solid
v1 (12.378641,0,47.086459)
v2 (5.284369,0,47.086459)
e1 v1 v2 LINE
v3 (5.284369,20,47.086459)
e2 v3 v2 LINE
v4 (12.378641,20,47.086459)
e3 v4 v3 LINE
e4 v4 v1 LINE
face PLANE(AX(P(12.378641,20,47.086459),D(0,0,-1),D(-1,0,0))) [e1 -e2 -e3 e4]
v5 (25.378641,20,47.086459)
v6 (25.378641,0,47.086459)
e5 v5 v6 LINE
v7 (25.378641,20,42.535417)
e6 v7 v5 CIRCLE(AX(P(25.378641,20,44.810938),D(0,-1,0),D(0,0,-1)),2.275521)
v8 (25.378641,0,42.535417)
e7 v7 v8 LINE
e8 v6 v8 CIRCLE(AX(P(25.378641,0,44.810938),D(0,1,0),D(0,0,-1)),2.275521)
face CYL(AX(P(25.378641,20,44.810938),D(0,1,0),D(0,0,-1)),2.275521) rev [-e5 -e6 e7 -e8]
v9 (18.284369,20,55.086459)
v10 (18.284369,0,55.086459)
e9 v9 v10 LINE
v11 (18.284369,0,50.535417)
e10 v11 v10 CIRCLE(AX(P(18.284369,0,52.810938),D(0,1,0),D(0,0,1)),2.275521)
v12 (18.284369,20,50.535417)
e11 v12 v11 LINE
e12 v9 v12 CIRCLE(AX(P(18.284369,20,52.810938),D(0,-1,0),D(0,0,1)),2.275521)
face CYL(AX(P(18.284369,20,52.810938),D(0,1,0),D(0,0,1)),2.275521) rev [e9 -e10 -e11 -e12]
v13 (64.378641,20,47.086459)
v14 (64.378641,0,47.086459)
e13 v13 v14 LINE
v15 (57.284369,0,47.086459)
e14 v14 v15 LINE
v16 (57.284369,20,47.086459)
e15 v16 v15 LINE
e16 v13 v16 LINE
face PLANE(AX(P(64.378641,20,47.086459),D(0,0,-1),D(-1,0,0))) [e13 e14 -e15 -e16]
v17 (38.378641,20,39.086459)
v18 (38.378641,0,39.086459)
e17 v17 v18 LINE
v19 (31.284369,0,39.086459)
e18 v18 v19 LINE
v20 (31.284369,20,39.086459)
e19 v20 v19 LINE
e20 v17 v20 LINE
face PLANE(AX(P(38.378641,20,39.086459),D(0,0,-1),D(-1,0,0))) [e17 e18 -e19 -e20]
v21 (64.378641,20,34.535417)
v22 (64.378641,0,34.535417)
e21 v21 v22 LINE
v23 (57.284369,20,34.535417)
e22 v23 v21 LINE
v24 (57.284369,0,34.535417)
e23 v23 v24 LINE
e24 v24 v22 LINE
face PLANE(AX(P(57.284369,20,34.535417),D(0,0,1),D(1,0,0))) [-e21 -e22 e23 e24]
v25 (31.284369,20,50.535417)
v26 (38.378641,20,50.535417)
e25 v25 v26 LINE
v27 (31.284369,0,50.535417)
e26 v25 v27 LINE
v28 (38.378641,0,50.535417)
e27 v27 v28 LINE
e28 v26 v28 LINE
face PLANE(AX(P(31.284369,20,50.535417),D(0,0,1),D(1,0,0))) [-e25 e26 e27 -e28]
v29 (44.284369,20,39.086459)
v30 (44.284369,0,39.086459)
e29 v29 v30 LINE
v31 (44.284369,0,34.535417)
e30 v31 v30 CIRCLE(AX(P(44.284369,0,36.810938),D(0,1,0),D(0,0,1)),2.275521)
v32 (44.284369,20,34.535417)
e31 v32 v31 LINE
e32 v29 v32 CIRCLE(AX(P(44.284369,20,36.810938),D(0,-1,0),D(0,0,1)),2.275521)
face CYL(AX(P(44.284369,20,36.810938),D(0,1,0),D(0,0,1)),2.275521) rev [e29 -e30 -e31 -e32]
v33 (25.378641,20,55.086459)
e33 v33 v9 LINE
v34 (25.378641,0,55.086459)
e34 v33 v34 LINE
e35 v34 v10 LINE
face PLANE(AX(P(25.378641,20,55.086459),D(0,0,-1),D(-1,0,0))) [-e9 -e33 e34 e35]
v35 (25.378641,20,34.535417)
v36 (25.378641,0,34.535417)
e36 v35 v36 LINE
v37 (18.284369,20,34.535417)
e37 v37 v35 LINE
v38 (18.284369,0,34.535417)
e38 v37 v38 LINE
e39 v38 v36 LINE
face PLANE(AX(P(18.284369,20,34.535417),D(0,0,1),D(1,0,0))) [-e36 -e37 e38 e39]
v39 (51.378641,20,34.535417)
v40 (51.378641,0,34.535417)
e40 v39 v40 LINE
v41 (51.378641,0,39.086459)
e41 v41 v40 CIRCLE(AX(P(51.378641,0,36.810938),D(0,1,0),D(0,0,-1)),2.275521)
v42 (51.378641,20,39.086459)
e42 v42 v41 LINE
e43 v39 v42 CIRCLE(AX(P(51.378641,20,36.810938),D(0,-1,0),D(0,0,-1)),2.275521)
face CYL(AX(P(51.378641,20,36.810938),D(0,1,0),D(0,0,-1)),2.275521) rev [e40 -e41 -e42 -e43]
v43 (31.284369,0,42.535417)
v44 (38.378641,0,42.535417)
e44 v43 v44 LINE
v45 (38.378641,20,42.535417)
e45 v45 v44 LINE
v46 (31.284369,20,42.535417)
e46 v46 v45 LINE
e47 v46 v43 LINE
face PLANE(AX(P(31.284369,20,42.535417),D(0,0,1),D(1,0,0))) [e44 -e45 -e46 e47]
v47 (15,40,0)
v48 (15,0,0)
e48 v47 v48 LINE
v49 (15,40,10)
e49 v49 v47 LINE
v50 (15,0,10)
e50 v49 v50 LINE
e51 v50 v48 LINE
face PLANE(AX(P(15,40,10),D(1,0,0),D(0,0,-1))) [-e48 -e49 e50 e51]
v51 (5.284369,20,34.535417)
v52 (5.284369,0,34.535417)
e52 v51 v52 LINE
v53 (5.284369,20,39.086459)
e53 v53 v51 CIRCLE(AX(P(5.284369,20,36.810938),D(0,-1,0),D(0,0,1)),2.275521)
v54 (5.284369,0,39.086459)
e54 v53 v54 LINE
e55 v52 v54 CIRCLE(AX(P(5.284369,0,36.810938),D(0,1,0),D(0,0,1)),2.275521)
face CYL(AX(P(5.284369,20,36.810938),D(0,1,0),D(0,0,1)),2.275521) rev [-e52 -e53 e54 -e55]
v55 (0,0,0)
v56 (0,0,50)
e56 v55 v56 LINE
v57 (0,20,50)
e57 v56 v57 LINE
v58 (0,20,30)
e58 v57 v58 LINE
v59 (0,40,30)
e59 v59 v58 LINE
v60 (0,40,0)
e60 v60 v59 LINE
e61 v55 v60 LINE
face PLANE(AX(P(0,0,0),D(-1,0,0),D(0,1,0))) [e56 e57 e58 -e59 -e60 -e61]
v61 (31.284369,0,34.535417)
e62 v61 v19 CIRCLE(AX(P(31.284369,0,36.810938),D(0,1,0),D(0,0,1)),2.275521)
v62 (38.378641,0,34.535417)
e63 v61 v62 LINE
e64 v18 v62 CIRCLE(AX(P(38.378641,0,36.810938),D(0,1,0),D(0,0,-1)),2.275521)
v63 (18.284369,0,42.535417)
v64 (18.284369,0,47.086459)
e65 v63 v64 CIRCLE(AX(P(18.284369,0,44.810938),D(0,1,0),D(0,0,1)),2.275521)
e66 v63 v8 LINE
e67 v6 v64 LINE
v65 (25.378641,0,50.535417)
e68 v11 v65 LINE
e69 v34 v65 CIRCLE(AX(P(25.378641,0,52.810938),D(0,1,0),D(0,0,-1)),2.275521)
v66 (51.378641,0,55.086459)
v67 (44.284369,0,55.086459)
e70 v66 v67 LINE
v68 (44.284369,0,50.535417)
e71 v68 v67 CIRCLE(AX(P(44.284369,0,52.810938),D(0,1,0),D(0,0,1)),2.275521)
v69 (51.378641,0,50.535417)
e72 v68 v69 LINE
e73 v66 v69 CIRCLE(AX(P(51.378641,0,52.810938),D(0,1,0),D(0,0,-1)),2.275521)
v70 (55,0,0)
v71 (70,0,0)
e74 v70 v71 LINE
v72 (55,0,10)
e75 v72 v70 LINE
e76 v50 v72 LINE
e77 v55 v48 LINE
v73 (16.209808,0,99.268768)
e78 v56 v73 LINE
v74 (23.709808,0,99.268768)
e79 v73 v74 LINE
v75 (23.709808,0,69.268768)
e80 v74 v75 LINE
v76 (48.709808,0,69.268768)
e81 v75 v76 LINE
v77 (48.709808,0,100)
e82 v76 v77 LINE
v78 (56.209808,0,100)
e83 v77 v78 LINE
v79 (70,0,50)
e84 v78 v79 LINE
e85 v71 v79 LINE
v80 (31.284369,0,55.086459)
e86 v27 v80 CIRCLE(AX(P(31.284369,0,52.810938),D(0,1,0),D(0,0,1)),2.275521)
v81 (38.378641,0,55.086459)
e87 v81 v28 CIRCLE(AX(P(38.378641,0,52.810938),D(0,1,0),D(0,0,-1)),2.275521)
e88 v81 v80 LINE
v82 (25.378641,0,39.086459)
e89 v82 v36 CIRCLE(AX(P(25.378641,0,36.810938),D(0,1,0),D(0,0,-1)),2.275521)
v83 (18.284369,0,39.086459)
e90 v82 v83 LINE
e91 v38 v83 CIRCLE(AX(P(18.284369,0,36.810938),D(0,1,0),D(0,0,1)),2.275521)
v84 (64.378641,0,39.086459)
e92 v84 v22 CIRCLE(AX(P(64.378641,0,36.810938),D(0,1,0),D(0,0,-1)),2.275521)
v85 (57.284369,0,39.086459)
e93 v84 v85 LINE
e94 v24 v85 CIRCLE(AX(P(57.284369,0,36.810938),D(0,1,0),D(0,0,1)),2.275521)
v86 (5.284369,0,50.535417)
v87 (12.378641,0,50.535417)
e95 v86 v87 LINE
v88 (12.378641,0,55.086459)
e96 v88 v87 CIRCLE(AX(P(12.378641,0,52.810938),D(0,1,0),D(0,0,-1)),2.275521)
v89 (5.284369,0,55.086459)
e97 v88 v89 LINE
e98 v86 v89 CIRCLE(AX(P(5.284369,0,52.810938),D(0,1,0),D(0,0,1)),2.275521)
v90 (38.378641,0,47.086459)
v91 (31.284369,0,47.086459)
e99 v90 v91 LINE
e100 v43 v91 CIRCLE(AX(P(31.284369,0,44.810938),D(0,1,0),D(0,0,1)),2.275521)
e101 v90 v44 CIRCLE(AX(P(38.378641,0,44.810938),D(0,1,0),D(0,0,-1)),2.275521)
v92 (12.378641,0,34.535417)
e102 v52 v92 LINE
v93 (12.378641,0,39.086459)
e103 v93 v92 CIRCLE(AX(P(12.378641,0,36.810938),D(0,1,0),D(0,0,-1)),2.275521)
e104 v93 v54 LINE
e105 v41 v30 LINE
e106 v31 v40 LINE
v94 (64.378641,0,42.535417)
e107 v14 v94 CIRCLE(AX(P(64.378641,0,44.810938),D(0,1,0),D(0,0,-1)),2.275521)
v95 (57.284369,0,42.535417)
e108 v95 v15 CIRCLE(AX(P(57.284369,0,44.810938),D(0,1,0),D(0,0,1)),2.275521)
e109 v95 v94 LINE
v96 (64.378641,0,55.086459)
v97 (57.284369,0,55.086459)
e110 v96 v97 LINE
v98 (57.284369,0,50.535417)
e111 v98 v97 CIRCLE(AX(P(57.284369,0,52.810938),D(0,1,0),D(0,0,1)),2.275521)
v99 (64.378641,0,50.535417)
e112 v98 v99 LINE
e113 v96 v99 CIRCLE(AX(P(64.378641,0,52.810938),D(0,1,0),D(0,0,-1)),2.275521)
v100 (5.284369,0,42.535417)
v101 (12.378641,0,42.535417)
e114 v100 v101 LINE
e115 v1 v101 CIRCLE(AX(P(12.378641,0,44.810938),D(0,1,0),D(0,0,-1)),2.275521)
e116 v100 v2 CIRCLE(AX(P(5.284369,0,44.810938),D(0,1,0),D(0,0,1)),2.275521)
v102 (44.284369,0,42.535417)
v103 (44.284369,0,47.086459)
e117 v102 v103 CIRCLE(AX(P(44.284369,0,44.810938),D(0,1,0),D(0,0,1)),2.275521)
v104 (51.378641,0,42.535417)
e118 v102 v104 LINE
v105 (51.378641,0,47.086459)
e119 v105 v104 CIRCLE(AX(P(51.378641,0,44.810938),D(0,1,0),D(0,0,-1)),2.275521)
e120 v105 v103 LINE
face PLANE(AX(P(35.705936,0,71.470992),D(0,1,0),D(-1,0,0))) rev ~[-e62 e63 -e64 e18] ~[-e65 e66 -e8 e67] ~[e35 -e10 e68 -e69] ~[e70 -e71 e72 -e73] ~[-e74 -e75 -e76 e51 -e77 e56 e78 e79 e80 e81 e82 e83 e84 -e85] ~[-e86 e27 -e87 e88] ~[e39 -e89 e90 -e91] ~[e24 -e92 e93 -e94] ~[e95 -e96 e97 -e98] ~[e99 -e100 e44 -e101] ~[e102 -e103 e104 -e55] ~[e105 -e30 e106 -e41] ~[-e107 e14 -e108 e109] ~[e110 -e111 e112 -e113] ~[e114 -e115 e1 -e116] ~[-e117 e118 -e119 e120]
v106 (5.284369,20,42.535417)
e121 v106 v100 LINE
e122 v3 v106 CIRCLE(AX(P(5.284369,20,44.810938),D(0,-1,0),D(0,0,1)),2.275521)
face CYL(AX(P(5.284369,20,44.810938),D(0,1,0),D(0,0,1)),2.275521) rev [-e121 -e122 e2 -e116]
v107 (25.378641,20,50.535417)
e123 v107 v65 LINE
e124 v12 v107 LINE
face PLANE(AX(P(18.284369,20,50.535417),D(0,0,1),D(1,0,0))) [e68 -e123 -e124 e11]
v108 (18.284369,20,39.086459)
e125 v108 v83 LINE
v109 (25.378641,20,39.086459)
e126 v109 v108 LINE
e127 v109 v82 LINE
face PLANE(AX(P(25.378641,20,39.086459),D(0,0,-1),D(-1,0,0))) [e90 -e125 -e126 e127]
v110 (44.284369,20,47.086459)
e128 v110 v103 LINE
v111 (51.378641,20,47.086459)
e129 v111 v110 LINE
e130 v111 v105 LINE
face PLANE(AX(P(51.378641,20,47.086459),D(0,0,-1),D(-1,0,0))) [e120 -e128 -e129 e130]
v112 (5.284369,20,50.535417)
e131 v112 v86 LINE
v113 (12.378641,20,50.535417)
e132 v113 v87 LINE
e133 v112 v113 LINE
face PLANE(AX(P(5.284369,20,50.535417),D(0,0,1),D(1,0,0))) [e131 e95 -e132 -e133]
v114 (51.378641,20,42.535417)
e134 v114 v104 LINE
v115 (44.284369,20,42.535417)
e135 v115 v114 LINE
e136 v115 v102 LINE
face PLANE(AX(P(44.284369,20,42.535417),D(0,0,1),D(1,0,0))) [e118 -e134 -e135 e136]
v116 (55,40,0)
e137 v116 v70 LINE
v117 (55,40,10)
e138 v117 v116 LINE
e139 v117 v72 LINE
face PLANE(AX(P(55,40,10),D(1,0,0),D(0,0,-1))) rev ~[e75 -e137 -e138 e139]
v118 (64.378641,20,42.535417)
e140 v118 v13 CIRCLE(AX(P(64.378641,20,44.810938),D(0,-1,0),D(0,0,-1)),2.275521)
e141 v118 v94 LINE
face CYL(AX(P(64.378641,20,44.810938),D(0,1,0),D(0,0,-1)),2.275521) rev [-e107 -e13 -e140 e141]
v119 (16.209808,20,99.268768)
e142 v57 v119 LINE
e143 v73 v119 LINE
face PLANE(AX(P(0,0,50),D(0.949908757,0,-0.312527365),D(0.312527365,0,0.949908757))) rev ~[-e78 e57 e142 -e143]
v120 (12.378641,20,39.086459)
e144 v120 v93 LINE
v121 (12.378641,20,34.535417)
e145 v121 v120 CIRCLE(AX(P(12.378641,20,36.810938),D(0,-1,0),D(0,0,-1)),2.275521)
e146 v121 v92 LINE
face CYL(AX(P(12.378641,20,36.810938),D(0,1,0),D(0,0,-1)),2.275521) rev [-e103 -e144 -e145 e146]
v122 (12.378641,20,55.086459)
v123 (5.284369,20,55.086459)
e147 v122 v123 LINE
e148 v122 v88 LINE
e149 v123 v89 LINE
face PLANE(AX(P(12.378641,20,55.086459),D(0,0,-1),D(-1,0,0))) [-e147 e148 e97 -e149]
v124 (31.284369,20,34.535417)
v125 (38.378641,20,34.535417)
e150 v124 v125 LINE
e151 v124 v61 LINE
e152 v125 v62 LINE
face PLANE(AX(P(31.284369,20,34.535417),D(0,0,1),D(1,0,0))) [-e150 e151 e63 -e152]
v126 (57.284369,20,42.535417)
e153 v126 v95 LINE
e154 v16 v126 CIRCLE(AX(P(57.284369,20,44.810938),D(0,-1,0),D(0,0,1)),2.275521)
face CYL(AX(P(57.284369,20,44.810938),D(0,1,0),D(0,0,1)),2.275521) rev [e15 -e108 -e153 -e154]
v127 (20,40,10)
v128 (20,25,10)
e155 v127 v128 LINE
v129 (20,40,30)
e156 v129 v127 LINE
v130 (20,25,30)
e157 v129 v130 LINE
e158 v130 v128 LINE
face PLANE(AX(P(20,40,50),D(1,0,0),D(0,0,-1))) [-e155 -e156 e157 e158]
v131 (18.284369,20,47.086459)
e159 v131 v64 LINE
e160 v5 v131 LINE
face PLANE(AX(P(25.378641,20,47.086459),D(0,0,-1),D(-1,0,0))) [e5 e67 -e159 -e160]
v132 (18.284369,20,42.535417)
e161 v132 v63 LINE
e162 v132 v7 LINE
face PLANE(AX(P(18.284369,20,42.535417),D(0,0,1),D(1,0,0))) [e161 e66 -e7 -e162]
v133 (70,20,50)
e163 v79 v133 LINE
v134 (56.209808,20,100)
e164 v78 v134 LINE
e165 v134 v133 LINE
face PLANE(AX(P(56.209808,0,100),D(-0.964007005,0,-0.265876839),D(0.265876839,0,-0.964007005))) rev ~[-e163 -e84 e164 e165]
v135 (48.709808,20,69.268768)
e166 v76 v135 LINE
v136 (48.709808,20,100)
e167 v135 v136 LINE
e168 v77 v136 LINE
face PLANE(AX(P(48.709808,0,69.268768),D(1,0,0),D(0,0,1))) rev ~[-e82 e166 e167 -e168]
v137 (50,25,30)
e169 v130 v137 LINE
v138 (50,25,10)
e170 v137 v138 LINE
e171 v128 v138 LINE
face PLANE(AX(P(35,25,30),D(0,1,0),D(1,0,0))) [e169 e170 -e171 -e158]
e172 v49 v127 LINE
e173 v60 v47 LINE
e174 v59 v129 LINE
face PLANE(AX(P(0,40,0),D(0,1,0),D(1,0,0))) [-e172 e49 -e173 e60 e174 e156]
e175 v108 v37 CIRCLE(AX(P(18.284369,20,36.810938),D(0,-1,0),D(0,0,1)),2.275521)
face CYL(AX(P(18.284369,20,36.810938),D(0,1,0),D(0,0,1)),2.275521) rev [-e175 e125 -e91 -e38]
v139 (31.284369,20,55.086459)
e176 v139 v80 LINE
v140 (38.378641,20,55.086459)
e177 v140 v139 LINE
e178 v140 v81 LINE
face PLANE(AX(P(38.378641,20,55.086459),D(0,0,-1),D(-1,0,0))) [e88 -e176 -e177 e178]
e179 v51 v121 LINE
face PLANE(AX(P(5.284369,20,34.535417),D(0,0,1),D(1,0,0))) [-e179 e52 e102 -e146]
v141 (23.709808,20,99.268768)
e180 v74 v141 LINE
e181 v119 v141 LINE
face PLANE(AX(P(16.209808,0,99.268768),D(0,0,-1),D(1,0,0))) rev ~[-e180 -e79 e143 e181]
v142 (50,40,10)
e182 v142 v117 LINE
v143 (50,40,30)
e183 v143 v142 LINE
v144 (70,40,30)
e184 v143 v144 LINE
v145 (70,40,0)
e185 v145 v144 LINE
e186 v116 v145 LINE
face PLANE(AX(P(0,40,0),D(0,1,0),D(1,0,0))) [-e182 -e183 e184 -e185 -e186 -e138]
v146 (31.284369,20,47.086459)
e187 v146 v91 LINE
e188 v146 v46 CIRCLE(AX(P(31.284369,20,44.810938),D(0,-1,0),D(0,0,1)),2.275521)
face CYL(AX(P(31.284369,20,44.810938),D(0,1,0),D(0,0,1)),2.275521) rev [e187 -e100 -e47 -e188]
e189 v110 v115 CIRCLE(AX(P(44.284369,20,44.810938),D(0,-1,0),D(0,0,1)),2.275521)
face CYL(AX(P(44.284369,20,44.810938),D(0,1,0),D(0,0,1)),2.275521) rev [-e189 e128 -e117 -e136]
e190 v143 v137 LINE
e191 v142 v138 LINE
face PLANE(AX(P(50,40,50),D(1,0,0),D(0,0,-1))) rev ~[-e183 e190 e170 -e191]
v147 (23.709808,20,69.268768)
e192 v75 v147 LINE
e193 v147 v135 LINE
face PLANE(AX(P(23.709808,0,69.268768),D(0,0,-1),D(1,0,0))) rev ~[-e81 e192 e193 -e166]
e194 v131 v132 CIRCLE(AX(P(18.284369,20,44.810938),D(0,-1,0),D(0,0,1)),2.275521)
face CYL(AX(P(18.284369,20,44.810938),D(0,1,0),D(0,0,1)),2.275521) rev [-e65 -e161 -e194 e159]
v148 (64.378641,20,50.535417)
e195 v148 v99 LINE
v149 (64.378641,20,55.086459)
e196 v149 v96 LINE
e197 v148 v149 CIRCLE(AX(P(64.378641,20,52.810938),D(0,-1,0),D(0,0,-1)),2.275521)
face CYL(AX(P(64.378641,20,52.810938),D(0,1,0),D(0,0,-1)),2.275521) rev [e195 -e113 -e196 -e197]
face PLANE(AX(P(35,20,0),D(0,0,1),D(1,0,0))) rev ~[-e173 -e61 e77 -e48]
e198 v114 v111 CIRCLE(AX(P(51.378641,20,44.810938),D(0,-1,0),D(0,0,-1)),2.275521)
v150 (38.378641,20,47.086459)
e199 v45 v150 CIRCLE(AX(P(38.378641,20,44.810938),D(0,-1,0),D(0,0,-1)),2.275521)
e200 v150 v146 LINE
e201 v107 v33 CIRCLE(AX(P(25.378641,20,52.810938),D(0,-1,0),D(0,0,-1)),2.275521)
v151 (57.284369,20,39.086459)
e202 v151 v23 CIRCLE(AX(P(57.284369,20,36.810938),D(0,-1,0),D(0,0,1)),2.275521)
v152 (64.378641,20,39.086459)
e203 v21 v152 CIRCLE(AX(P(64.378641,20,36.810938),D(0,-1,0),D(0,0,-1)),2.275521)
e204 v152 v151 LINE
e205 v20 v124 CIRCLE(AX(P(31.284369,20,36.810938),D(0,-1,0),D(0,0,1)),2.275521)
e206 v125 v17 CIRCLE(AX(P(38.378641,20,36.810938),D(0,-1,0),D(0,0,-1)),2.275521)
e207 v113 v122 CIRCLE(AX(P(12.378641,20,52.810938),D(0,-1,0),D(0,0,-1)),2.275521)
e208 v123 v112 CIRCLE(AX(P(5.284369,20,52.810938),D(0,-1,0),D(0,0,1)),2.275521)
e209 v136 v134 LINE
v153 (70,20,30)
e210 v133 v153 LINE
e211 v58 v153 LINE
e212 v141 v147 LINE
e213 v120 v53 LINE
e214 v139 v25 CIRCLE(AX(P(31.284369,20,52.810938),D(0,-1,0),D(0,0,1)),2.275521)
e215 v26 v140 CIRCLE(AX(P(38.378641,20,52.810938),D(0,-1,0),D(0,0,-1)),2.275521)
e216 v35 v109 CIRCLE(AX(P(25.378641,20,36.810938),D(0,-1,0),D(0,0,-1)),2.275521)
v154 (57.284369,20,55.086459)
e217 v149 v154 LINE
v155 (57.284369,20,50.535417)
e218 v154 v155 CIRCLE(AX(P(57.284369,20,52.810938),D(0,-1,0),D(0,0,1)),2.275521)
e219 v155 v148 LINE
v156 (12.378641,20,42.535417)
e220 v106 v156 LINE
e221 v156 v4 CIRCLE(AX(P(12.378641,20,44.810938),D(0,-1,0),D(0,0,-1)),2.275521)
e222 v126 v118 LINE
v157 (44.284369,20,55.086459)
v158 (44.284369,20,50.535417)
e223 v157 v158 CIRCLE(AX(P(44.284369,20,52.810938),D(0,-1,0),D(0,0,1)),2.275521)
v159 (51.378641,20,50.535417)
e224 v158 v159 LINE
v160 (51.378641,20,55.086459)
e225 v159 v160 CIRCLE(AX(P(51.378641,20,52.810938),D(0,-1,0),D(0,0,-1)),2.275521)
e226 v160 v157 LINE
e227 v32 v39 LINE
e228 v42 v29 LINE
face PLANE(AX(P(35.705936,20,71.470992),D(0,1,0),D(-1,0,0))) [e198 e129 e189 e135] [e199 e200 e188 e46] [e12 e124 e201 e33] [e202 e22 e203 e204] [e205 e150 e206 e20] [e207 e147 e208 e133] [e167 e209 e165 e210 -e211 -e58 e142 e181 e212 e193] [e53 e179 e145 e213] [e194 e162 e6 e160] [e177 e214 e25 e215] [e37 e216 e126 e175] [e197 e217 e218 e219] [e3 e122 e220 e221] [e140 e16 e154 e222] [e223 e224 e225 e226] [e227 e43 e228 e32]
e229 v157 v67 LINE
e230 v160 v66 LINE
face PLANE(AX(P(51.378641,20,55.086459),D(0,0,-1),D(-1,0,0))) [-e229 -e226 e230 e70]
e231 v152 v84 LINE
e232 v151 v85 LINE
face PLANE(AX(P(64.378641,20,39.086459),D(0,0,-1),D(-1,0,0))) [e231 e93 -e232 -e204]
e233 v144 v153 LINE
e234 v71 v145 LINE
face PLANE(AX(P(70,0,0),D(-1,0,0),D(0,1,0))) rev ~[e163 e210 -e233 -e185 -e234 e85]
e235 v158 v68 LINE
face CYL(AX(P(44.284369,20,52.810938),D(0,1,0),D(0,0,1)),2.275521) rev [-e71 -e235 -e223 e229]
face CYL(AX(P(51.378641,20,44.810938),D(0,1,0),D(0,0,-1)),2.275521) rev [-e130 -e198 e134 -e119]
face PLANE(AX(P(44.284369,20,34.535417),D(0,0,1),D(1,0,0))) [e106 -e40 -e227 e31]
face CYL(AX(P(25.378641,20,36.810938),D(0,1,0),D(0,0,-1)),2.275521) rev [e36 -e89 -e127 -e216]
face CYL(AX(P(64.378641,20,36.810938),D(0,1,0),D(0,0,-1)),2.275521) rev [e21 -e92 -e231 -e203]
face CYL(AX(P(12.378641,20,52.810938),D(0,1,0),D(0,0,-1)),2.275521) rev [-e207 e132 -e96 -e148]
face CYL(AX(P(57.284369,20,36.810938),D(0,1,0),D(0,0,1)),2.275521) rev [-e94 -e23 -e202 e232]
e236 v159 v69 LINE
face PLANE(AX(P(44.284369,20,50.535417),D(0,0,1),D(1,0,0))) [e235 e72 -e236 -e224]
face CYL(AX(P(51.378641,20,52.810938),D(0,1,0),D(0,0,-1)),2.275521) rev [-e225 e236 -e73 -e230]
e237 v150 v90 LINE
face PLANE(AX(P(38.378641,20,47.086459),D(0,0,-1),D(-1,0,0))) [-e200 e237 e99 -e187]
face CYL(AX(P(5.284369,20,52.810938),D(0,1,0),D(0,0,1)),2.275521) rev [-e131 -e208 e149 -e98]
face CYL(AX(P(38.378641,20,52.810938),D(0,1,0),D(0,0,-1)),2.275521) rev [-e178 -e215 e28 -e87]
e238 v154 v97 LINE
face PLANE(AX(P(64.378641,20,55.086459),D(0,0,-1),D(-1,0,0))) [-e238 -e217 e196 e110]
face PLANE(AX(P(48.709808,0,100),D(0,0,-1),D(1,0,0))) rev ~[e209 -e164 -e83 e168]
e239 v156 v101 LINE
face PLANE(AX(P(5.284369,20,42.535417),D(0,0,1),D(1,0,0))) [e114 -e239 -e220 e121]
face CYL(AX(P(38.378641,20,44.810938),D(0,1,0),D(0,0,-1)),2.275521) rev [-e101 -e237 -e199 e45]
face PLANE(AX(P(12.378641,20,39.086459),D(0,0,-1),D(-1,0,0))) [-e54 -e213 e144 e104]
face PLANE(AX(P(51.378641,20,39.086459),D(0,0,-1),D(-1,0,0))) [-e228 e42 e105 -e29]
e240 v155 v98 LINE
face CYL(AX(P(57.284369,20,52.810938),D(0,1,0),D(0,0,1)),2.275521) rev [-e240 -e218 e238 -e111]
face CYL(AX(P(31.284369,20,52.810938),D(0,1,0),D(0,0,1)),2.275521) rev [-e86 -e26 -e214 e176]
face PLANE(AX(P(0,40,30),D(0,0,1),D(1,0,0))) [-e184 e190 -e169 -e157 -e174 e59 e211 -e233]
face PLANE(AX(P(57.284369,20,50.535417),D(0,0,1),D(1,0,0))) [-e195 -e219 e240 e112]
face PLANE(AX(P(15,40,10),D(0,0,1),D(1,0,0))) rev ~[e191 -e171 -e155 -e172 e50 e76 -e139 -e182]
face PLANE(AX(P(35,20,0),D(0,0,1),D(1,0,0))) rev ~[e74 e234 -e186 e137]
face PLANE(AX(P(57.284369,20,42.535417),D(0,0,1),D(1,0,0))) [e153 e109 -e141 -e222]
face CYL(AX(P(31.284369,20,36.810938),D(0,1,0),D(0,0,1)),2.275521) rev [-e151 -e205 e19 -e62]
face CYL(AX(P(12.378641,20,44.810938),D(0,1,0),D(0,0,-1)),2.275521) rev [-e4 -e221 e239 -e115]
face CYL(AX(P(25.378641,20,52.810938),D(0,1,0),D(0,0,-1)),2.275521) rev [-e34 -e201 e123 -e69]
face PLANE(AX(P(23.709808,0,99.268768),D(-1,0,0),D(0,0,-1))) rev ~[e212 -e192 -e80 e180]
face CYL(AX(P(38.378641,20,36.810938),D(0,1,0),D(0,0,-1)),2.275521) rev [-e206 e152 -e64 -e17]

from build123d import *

# Parameters (mm, degrees)
SKETCH2_W           = 70
SKETCH2_H           = 40
BOSS_EXTRUDE1_DEPTH = 50
SKETCH3_W           = 40
SKETCH3_H           = 10
CUT_EXTRUDE1_DEPTH  = 40
SKETCH4_W           = 30
SKETCH4_H           = 40
CUT_EXTRUDE2_DEPTH  = 15
SKETCH5_W           = 70
SKETCH5_H           = 20
CUT_EXTRUDE3_DEPTH  = 20
BOSS_EXTRUDE2_DEPTH = 20
CUT_EXTRUDE4_DEPTH  = 124.693168769


with BuildPart() as part:
    # Sketch2 → Boss-Extrude1 (new body)
    with BuildSketch(Plane.XY):
        with Locations((35, 20)):
            Rectangle(SKETCH2_W, SKETCH2_H)
    extrude(amount=BOSS_EXTRUDE1_DEPTH)

    # Sketch3 → Cut-Extrude1 (cut)
    with BuildSketch(Plane(origin=(0, 40, 0), x_dir=(1, 0, 0), z_dir=(0, 1, 0))):
        with Locations((35, -5)):
            Rectangle(SKETCH3_W, SKETCH3_H)
    extrude(amount=-CUT_EXTRUDE1_DEPTH, mode=Mode.SUBTRACT)

    # Sketch4 → Cut-Extrude2 (cut)
    with BuildSketch(Plane(origin=(0, 40, 0), x_dir=(1, 0, 0), z_dir=(0, 1, 0))):
        with Locations((35, -30)):
            Rectangle(SKETCH4_W, SKETCH4_H)
    extrude(amount=-CUT_EXTRUDE2_DEPTH, mode=Mode.SUBTRACT)

    # Sketch5 → Cut-Extrude3 (cut)
    with BuildSketch(Plane(origin=(0, 40, 0), x_dir=(1, 0, 0), z_dir=(0, 1, 0))):
        with Locations((35, -40)):
            Rectangle(SKETCH5_W, SKETCH5_H)
    extrude(amount=-CUT_EXTRUDE3_DEPTH, mode=Mode.SUBTRACT)

    # Sketch6 → Boss-Extrude2 (add)
    with BuildSketch(Plane.XZ):
        Polygon((0, 50), (16.209807748, 99.268768354), (23.709807748, 99.268768354), (23.709807748, 69.268768354), (48.709807748, 69.268768354), (48.709807748, 100), (56.209807748, 100), (70, 50), align=None)
    extrude(amount=-BOSS_EXTRUDE2_DEPTH)

    # Sketch7 → Cut-Extrude4 (cut, through all)
    with BuildSketch(Plane(origin=(0, 20, 0), x_dir=(1, 0, 0), z_dir=(0, 1, 0))):
        with BuildLine():
            Line((5.284369051, -34.535416774), (12.378641305, -34.535416774))
            ThreePointArc((12.378641305, -34.535416774), (14.654162594, -36.810938063), (12.378641305, -39.086459352))
            Line((12.378641305, -39.086459352), (5.284369051, -39.086459352))
            ThreePointArc((5.284369051, -39.086459352), (3.008847762, -36.810938063), (5.284369051, -34.535416774))
        make_face()
        with BuildLine():
            Line((18.284369051, -34.535416774), (25.378641305, -34.535416774))
            ThreePointArc((25.378641305, -34.535416774), (27.654162594, -36.810938063), (25.378641305, -39.086459352))
            Line((25.378641305, -39.086459352), (18.284369051, -39.086459352))
            ThreePointArc((18.284369051, -39.086459352), (16.008847762, -36.810938063), (18.284369051, -34.535416774))
        make_face()
        with BuildLine():
            Line((31.284369051, -34.535416774), (38.378641305, -34.535416774))
            ThreePointArc((38.378641305, -34.535416774), (40.654162594, -36.810938063), (38.378641305, -39.086459352))
            Line((38.378641305, -39.086459352), (31.284369051, -39.086459352))
            ThreePointArc((31.284369051, -39.086459352), (29.008847762, -36.810938063), (31.284369051, -34.535416774))
        make_face()
        with BuildLine():
            Line((44.284369051, -34.535416774), (51.378641305, -34.535416774))
            ThreePointArc((51.378641305, -34.535416774), (53.654162594, -36.810938063), (51.378641305, -39.086459352))
            Line((51.378641305, -39.086459352), (44.284369051, -39.086459352))
            ThreePointArc((44.284369051, -39.086459352), (42.008847762, -36.810938063), (44.284369051, -34.535416774))
        make_face()
        with BuildLine():
            Line((57.284369051, -34.535416774), (64.378641305, -34.535416774))
            ThreePointArc((64.378641305, -34.535416774), (66.654162594, -36.810938063), (64.378641305, -39.086459352))
            Line((64.378641305, -39.086459352), (57.284369051, -39.086459352))
            ThreePointArc((57.284369051, -39.086459352), (55.008847762, -36.810938063), (57.284369051, -34.535416774))
        make_face()
        with BuildLine():
            Line((18.284369051, -42.535416774), (25.378641305, -42.535416774))
            ThreePointArc((25.378641305, -42.535416774), (27.654162594, -44.810938063), (25.378641305, -47.086459352))
            Line((25.378641305, -47.086459352), (18.284369051, -47.086459352))
            ThreePointArc((18.284369051, -47.086459352), (16.008847762, -44.810938063), (18.284369051, -42.535416774))
        make_face()
        with BuildLine():
            Line((31.284369051, -42.535416774), (38.378641305, -42.535416774))
            ThreePointArc((38.378641305, -42.535416774), (40.654162594, -44.810938063), (38.378641305, -47.086459352))
            Line((38.378641305, -47.086459352), (31.284369051, -47.086459352))
            ThreePointArc((31.284369051, -47.086459352), (29.008847762, -44.810938063), (31.284369051, -42.535416774))
        make_face()
        with BuildLine():
            Line((44.284369051, -42.535416774), (51.378641305, -42.535416774))
            ThreePointArc((51.378641305, -42.535416774), (53.654162594, -44.810938063), (51.378641305, -47.086459352))
            Line((51.378641305, -47.086459352), (44.284369051, -47.086459352))
            ThreePointArc((44.284369051, -47.086459352), (42.008847762, -44.810938063), (44.284369051, -42.535416774))
        make_face()
        with BuildLine():
            Line((57.284369051, -42.535416774), (64.378641305, -42.535416774))
            ThreePointArc((64.378641305, -42.535416774), (66.654162594, -44.810938063), (64.378641305, -47.086459352))
            Line((64.378641305, -47.086459352), (57.284369051, -47.086459352))
            ThreePointArc((57.284369051, -47.086459352), (55.008847762, -44.810938063), (57.284369051, -42.535416774))
        make_face()
        with BuildLine():
            Line((18.284369051, -50.535416774), (25.378641305, -50.535416774))
            ThreePointArc((25.378641305, -50.535416774), (27.654162594, -52.810938063), (25.378641305, -55.086459352))
            Line((25.378641305, -55.086459352), (18.284369051, -55.086459352))
            ThreePointArc((18.284369051, -55.086459352), (16.008847762, -52.810938063), (18.284369051, -50.535416774))
        make_face()
        with BuildLine():
            Line((31.284369051, -50.535416774), (38.378641305, -50.535416774))
            ThreePointArc((38.378641305, -50.535416774), (40.654162594, -52.810938063), (38.378641305, -55.086459352))
            Line((38.378641305, -55.086459352), (31.284369051, -55.086459352))
            ThreePointArc((31.284369051, -55.086459352), (29.008847762, -52.810938063), (31.284369051, -50.535416774))
        make_face()
        with BuildLine():
            Line((44.284369051, -50.535416774), (51.378641305, -50.535416774))
            ThreePointArc((51.378641305, -50.535416774), (53.654162594, -52.810938063), (51.378641305, -55.086459352))
            Line((51.378641305, -55.086459352), (44.284369051, -55.086459352))
            ThreePointArc((44.284369051, -55.086459352), (42.008847762, -52.810938063), (44.284369051, -50.535416774))
        make_face()
        with BuildLine():
            Line((57.284369051, -50.535416774), (64.378641305, -50.535416774))
            ThreePointArc((64.378641305, -50.535416774), (66.654162594, -52.810938063), (64.378641305, -55.086459352))
            Line((64.378641305, -55.086459352), (57.284369051, -55.086459352))
            ThreePointArc((57.284369051, -55.086459352), (55.008847762, -52.810938063), (57.284369051, -50.535416774))
        make_face()
        with BuildLine():
            Line((5.284369051, -42.535416774), (12.378641305, -42.535416774))
            ThreePointArc((12.378641305, -42.535416774), (14.654162594, -44.810938063), (12.378641305, -47.086459352))
            Line((12.378641305, -47.086459352), (5.284369051, -47.086459352))
            ThreePointArc((5.284369051, -47.086459352), (3.008847762, -44.810938063), (5.284369051, -42.535416774))
        make_face()
        with BuildLine():
            Line((5.284369051, -50.535416774), (12.378641305, -50.535416774))
            ThreePointArc((12.378641305, -50.535416774), (14.654162594, -52.810938063), (12.378641305, -55.086459352))
            Line((12.378641305, -55.086459352), (5.284369051, -55.086459352))
            ThreePointArc((5.284369051, -55.086459352), (3.008847762, -52.810938063), (5.284369051, -50.535416774))
        make_face()
    extrude(amount=-CUT_EXTRUDE4_DEPTH, mode=Mode.SUBTRACT)


solid = part.part
